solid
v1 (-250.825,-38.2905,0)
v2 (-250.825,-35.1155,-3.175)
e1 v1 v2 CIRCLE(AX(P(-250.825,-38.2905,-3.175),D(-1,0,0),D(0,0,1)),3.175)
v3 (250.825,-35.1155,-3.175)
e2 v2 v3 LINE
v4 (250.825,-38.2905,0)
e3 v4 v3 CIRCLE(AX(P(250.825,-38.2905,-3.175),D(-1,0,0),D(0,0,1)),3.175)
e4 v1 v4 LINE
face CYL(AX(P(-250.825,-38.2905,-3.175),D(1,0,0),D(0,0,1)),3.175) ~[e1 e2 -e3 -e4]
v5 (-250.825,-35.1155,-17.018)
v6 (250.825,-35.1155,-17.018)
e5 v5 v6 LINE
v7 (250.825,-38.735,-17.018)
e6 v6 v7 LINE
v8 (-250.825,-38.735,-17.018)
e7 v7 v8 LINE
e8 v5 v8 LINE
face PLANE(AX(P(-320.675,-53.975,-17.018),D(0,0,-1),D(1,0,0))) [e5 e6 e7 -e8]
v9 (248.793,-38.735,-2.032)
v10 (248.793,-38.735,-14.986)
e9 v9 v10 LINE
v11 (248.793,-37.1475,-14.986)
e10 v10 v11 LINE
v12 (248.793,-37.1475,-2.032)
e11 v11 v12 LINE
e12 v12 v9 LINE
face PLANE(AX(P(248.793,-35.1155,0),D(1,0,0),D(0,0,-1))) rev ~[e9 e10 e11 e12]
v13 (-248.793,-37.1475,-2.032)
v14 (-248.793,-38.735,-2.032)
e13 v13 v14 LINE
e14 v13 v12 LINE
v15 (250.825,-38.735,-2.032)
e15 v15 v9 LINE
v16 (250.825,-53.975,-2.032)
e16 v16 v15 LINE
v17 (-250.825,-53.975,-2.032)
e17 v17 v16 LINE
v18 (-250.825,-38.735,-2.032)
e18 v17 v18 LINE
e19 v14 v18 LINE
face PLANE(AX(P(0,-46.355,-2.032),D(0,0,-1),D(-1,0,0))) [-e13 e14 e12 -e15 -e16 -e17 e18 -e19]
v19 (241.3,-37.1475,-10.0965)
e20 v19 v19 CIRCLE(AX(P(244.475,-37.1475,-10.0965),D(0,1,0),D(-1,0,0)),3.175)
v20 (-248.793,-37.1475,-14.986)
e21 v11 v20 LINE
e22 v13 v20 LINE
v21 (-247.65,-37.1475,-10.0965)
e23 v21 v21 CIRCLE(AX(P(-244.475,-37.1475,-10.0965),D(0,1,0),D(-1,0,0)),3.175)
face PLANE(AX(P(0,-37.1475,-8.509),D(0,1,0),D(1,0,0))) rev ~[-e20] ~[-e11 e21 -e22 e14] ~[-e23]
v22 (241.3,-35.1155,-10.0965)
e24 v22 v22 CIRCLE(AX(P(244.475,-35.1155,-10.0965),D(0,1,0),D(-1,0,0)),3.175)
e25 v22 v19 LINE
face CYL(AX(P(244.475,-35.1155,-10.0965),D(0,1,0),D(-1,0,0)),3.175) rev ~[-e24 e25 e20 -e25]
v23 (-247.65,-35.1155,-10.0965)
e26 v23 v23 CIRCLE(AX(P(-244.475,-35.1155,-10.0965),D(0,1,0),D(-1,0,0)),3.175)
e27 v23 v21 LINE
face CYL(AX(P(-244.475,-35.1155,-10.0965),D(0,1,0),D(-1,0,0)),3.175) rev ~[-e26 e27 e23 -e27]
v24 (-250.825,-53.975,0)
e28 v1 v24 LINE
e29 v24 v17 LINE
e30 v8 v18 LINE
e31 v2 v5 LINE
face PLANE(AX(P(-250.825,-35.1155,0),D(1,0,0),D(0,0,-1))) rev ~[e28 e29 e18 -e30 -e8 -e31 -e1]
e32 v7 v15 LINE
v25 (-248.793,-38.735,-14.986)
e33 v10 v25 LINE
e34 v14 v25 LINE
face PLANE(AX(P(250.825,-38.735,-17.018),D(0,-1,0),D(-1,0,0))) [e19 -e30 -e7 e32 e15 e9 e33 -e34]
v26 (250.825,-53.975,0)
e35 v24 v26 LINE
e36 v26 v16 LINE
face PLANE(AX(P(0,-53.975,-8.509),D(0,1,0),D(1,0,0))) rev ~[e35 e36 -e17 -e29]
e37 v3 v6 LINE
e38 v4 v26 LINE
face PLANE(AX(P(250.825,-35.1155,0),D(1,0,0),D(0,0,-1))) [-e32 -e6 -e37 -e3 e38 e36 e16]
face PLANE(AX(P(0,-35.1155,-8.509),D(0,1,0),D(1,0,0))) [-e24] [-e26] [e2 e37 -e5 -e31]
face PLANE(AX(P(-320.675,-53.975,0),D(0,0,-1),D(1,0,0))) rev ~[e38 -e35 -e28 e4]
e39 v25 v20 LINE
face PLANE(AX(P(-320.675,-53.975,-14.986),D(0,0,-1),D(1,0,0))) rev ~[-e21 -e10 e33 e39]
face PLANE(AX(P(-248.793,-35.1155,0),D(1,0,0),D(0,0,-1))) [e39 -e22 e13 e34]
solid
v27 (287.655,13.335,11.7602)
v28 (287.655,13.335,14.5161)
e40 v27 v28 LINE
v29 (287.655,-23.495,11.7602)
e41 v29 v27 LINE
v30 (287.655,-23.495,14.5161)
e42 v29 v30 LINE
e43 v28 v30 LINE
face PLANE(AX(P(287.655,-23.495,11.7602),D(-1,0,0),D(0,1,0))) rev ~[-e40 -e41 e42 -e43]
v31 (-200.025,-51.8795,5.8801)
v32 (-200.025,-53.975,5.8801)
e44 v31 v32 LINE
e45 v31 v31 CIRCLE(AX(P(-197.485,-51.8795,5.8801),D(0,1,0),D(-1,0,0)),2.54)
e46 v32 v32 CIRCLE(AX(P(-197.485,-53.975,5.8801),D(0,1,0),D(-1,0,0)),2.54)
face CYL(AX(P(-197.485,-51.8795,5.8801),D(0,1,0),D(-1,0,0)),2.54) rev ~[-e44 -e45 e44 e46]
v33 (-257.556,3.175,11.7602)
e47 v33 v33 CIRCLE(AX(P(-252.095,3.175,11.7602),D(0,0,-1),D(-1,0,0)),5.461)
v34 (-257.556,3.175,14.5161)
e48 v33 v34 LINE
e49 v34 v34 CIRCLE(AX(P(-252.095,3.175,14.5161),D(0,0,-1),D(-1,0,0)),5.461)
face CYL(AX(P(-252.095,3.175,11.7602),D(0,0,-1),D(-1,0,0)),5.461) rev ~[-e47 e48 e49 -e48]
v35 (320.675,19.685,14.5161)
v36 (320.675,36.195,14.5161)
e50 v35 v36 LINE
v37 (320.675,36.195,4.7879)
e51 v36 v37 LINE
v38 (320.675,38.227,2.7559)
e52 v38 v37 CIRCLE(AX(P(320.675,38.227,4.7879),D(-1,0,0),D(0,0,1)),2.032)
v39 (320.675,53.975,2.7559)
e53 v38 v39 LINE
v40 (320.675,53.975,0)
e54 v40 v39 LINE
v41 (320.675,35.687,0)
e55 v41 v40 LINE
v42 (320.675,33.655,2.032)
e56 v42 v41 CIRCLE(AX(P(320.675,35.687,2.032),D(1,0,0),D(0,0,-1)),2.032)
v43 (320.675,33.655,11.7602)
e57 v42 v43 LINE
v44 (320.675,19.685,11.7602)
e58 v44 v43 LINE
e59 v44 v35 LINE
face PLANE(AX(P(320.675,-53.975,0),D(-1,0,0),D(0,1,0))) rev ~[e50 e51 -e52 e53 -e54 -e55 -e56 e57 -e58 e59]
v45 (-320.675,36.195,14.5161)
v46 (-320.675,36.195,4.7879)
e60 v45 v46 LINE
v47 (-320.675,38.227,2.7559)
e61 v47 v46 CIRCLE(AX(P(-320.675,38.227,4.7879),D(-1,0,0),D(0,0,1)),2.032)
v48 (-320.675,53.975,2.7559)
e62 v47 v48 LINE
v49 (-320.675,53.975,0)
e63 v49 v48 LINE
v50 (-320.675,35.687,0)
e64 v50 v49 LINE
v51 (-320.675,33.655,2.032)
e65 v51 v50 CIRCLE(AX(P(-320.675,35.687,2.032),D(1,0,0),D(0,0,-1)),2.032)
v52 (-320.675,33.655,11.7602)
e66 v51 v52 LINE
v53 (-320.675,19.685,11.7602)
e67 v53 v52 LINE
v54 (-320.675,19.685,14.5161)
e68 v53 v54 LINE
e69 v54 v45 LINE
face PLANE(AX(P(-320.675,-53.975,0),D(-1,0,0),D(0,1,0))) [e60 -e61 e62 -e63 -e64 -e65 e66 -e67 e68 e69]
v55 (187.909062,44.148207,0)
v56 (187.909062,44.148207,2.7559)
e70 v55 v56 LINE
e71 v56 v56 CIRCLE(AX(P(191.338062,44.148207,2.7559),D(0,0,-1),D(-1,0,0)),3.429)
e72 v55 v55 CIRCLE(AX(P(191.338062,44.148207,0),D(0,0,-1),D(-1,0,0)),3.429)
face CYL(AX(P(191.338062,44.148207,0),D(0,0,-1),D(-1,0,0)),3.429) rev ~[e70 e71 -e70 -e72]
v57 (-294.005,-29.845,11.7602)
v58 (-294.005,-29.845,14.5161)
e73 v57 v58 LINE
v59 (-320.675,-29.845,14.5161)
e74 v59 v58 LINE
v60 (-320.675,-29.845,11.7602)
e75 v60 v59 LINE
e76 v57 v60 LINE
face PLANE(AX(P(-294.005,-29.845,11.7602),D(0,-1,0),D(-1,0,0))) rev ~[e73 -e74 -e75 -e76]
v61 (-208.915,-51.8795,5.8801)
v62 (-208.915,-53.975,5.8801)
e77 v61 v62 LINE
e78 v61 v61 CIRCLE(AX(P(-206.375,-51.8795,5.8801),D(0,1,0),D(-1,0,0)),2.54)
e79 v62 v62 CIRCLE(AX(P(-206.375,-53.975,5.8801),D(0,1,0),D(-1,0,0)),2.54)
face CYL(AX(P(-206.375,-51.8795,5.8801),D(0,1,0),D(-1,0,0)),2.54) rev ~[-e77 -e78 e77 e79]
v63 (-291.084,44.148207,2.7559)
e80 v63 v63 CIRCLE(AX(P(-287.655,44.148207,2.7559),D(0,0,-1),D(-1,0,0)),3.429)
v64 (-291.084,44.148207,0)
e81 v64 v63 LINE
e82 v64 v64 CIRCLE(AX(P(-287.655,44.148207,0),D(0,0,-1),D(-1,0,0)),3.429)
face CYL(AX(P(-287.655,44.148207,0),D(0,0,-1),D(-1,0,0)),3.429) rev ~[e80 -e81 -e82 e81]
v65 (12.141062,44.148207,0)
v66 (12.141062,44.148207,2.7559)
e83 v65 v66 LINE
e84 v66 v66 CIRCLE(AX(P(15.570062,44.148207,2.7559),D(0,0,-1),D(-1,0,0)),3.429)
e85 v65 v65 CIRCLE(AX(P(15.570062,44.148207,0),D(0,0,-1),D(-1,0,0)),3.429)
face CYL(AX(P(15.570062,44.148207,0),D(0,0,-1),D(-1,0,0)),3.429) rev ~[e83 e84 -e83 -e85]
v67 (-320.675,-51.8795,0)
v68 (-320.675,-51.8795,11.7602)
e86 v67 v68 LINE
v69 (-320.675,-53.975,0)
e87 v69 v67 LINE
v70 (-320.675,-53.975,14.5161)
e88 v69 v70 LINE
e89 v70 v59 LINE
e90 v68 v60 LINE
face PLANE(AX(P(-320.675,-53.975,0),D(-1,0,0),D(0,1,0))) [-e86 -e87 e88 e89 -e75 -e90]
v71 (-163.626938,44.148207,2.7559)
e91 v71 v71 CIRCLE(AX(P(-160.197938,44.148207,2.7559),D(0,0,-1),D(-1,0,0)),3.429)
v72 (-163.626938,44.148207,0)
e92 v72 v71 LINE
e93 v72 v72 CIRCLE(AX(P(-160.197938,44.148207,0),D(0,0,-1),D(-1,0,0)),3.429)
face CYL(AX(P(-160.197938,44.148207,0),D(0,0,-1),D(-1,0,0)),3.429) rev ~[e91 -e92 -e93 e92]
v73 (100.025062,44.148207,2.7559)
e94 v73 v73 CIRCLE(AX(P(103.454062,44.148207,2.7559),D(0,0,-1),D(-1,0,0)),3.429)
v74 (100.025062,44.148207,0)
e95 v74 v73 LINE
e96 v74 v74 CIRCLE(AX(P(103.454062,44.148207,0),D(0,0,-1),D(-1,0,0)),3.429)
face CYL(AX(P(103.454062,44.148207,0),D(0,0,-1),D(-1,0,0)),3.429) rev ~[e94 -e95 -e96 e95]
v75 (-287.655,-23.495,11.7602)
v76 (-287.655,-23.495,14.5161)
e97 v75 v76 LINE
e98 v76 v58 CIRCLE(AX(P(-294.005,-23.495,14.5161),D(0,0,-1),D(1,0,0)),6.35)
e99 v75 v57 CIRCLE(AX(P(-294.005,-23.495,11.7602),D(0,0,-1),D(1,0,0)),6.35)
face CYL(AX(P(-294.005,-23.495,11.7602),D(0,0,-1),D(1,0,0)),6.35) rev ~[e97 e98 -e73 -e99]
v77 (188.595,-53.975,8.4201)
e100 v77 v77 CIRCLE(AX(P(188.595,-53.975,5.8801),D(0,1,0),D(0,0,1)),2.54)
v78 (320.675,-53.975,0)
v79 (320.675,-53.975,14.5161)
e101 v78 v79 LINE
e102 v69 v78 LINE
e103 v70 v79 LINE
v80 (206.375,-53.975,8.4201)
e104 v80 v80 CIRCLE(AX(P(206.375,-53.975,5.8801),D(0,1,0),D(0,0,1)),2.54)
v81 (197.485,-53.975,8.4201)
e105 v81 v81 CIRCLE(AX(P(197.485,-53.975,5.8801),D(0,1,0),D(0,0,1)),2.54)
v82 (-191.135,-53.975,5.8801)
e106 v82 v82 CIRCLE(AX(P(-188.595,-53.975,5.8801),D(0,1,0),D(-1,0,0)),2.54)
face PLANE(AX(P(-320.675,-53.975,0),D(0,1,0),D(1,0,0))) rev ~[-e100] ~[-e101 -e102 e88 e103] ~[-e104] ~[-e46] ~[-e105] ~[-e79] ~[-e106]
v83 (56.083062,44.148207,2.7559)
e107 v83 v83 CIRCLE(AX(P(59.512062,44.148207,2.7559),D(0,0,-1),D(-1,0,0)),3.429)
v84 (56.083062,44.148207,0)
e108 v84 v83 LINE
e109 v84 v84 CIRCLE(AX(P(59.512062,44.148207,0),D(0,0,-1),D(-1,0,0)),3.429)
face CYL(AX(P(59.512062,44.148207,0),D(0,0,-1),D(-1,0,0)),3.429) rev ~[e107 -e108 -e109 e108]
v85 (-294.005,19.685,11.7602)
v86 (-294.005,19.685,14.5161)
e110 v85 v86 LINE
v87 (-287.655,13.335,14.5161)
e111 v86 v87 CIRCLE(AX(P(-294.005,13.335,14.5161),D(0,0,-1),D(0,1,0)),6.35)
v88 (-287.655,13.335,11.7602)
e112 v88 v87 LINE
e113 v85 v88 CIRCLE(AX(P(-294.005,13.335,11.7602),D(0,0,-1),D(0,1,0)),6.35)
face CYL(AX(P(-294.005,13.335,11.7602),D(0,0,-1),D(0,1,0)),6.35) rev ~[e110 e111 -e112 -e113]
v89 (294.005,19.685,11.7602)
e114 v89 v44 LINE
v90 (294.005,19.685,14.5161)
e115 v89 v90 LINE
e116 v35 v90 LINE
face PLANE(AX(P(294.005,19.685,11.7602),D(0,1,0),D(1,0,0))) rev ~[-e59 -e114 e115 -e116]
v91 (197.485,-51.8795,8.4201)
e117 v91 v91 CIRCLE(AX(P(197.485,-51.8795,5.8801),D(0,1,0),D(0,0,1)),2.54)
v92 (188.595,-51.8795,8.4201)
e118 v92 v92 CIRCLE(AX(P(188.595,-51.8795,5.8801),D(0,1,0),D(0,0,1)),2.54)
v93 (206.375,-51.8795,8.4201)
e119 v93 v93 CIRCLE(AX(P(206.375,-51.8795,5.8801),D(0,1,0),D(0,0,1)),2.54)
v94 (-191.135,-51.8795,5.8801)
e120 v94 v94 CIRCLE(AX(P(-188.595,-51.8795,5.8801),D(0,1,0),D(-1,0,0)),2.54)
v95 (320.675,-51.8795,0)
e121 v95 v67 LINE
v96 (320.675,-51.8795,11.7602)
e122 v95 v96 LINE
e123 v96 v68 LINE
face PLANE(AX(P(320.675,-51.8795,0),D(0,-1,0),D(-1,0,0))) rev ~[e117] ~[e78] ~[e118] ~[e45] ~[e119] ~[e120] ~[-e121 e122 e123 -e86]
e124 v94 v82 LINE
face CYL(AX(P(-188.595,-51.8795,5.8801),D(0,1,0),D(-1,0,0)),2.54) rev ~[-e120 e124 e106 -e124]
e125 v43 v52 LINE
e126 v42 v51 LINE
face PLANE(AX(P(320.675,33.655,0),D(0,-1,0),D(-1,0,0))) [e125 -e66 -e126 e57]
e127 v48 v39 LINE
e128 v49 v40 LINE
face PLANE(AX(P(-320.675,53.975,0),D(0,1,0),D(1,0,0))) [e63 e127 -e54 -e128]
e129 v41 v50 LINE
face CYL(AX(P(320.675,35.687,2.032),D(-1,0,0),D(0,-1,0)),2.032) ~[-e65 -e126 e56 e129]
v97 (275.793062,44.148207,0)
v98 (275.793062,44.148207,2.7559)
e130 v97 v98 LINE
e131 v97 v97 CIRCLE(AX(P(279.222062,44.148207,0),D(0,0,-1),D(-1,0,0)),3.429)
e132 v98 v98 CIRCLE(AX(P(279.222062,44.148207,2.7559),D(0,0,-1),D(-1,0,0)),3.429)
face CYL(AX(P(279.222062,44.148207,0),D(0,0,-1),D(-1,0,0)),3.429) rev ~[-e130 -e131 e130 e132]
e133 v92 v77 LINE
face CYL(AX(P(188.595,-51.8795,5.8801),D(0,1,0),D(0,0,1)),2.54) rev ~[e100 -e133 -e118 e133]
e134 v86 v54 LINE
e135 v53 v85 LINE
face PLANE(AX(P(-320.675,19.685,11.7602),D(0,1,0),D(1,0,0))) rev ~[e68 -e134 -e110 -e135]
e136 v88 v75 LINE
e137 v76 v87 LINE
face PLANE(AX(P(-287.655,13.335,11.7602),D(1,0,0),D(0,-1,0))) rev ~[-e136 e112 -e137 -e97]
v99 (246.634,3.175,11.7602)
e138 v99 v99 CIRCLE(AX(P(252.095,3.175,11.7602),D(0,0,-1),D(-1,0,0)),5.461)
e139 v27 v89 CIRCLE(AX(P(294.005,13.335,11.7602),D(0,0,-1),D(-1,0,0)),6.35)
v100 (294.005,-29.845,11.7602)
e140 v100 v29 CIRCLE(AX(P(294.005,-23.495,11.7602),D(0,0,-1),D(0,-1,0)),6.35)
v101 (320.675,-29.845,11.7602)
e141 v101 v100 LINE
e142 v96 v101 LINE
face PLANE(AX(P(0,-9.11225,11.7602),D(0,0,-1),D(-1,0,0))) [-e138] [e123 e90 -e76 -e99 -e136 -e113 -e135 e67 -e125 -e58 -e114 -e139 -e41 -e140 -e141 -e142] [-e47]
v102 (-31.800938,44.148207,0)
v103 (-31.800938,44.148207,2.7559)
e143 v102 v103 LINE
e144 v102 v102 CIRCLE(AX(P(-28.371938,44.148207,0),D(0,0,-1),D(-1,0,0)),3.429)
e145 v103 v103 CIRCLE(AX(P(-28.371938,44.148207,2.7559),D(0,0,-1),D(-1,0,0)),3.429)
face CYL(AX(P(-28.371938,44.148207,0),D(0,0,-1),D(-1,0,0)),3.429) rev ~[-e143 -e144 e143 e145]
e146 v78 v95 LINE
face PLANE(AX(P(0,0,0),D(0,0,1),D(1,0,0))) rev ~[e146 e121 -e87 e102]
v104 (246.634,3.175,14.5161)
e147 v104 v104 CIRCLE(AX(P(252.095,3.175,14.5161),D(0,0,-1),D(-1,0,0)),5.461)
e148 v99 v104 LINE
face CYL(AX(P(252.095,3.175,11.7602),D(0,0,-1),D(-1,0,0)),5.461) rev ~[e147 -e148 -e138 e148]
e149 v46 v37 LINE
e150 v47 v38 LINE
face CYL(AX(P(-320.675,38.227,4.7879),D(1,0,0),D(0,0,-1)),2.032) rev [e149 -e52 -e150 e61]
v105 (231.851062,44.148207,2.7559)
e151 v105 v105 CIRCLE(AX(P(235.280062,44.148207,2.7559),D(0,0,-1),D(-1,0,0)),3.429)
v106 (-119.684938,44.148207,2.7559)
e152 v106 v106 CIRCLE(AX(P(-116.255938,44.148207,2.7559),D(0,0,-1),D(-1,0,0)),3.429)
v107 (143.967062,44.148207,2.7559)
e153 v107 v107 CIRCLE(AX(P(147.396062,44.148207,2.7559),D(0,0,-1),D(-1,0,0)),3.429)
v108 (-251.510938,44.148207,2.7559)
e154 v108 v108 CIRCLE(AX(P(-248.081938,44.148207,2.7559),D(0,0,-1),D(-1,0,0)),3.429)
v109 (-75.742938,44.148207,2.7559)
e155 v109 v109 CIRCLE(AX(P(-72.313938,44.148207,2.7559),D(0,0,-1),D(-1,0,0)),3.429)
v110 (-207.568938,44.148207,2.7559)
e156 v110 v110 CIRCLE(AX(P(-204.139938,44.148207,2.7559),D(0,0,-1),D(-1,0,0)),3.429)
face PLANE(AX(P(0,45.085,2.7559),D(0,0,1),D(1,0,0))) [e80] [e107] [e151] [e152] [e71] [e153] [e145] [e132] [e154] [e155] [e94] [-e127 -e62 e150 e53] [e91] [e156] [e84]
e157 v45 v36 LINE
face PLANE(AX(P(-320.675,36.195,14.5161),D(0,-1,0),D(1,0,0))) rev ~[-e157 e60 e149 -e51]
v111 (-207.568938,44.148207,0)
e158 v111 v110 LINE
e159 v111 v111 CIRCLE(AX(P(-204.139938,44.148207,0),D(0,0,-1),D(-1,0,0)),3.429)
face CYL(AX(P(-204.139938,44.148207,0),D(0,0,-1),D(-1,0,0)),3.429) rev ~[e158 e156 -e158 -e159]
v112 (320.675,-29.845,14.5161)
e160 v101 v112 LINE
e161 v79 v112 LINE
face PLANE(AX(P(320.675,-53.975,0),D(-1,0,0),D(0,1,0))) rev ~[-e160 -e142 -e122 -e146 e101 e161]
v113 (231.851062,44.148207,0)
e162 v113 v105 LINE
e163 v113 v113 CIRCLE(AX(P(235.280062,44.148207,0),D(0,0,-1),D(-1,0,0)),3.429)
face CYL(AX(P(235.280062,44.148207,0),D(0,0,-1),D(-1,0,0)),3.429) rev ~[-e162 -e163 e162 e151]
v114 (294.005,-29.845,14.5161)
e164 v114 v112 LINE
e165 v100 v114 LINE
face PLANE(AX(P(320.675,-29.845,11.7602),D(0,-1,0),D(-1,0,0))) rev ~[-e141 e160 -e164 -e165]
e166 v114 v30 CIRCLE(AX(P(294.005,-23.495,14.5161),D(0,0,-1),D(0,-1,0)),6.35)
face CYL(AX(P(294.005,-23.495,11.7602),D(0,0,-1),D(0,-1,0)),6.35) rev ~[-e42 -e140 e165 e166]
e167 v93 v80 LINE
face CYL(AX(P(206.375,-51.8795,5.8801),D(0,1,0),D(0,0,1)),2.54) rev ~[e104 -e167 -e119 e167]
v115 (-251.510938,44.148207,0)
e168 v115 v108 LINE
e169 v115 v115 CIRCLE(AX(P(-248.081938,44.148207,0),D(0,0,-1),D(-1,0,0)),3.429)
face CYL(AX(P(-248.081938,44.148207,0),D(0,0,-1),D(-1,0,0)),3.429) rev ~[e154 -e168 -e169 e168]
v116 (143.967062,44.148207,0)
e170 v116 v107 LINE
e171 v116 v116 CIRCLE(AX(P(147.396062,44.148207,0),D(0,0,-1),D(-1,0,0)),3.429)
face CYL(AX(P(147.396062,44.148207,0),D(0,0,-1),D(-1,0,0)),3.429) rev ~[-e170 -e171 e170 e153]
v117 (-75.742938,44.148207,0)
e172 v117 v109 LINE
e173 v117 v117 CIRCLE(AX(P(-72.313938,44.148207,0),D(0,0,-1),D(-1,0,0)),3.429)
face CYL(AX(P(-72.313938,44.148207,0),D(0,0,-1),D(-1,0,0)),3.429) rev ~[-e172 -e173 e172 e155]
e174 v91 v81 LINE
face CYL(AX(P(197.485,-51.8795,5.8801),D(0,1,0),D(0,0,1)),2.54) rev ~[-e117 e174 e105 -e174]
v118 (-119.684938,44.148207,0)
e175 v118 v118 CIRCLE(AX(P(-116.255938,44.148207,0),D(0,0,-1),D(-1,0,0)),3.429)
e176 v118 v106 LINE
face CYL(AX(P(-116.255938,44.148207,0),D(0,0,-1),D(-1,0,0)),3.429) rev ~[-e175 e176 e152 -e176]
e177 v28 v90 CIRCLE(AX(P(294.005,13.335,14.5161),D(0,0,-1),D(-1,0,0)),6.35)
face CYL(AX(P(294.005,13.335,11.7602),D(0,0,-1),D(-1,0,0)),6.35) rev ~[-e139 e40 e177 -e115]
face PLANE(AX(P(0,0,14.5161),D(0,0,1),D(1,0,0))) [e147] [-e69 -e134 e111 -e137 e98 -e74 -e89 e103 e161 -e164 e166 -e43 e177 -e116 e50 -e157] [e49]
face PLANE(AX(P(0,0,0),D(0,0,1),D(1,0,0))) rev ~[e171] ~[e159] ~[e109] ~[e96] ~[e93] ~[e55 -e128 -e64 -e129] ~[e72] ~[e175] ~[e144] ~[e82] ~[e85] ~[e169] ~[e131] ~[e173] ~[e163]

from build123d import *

# Parameters (mm, degrees)
SKETCH1_W                = 641.35
SKETCH1_H                = 107.95
BOSS_EXTRUDE1_DEPTH      = 14.5161
SKETCH2_W                = 641.35
SKETCH2_H                = 17.78
CUT_EXTRUDE1_DEPTH       = 11.7602
SKETCH3_W                = 641.35
SKETCH3_H                = 85.5345
CUT_EXTRUDE3_DEPTH       = 11.7602
FILLET1_R                = 2.032
CUT_EXTRUDE4_DEPTH       = 326.398307546
SKETCH5_R                = 3.429
CUT_EXTRUDE5_DEPTH       = 11.7602
SKETCH6_R                = 5.461
CUT_EXTRUDE6_DEPTH       = 11.7602
SKETCH7_R                = 2.54
CUT_EXTRUDE7_DEPTH       = 2.54
BOSS_EXTRUDE2_DEPTH      = 16.764
BOSS_EXTRUDE2_DEPTH_BACK = 2.0955
SKETCH8_W                = 641.35
SKETCH8_H                = 17.018
SKETCH9_W                = 69.85
SKETCH9_H                = 17.018
CUT_EXTRUDE8_DEPTH       = 334.255435273
SHELL1_T                 = -2.032
SKETCH10_W               = 501.65
SKETCH10_H               = 15.24
CUT_EXTRUDE9_DEPTH       = 14.986
FILLET2_R                = 3.175
SKETCH11_R               = 3.175
CUT_EXTRUDE10_DEPTH      = 16.764


with BuildPart() as part:
    # Sketch1 → Boss-Extrude1 (new body)
    with BuildSketch(Plane.XY):
        Rectangle(SKETCH1_W, SKETCH1_H)
    extrude(amount=BOSS_EXTRUDE1_DEPTH)

    # Sketch2 → Cut-Extrude1 (cut)
    with BuildSketch(Plane.XY.offset(14.5161)):
        with Locations((0, 45.085)):
            Rectangle(SKETCH2_W, SKETCH2_H)
    extrude(amount=-CUT_EXTRUDE1_DEPTH, mode=Mode.SUBTRACT)

    # Sketch3 → Cut-Extrude3 (cut)
    with BuildSketch(Plane(origin=(0, 0, 0), x_dir=(-1, 0, 0), z_dir=(0, 0, -1))):
        with Locations((0, -9.11225)):
            Rectangle(SKETCH3_W, SKETCH3_H)
    extrude(amount=-CUT_EXTRUDE3_DEPTH, mode=Mode.SUBTRACT)

    # Fillet1
    fillet1_edges = [part.edges().sort_by_distance(p)[0] for p in [
        (0, 36.195, 2.7559),
        (0, 33.655, 0),
    ]]
    fillet(fillet1_edges, radius=FILLET1_R)

    # Sketch4 → Cut-Extrude4 (cut, through all)
    with BuildSketch(Plane(origin=(0, 0, 11.7602), x_dir=(-1, 0, 0), z_dir=(0, 0, -1))):
        with BuildLine():
            Line((-294.005, 19.685), (-320.675, 19.685))
            Line((-320.675, 19.685), (-320.675, -29.845))
            Line((-320.675, -29.845), (-294.005, -29.845))
            ThreePointArc((-294.005, -29.845), (-289.514871939, -27.985128061), (-287.655, -23.495))
            Line((-287.655, -23.495), (-287.655, 13.335))
            ThreePointArc((-287.655, 13.335), (-289.514871939, 17.825128061), (-294.005, 19.685))
        make_face()
        with BuildLine():
            Line((294.005, -29.845), (320.675, -29.845))
            Line((320.675, -29.845), (320.675, 19.685))
            Line((320.675, 19.685), (294.005, 19.685))
            ThreePointArc((294.005, 19.685), (289.514871939, 17.825128061), (287.655, 13.335))
            Line((287.655, 13.335), (287.655, -23.495))
            ThreePointArc((287.655, -23.495), (289.514871939, -27.985128061), (294.005, -29.845))
        make_face()
    extrude(amount=-CUT_EXTRUDE4_DEPTH, mode=Mode.SUBTRACT)

    # Sketch5 → Cut-Extrude5 (cut)
    with BuildSketch(Plane(origin=(0, 0, 0), x_dir=(-1, 0, 0), z_dir=(0, 0, -1))):
        with Locations((-279.222061941, 44.148206771)):
            Circle(SKETCH5_R)
        with Locations((-235.280061941, 44.148206771)):
            Circle(SKETCH5_R)
        with Locations((-191.338061941, 44.148206771)):
            Circle(SKETCH5_R)
        with Locations((-147.396061941, 44.148206771)):
            Circle(SKETCH5_R)
        with Locations((-103.454061941, 44.148206771)):
            Circle(SKETCH5_R)
        with Locations((-59.512061941, 44.148206771)):
            Circle(SKETCH5_R)
        with Locations((-15.570061941, 44.148206771)):
            Circle(SKETCH5_R)
        with Locations((28.371938059, 44.148206771)):
            Circle(SKETCH5_R)
        with Locations((72.313938059, 44.148206771)):
            Circle(SKETCH5_R)
        with Locations((116.255938059, 44.148206771)):
            Circle(SKETCH5_R)
        with Locations((160.197938059, 44.148206771)):
            Circle(SKETCH5_R)
        with Locations((204.139938059, 44.148206771)):
            Circle(SKETCH5_R)
        with Locations((248.081938059, 44.148206771)):
            Circle(SKETCH5_R)
        with Locations((287.655, 44.148206771)):
            Circle(SKETCH5_R)
    extrude(amount=-CUT_EXTRUDE5_DEPTH, mode=Mode.SUBTRACT)

    # Sketch6 → Cut-Extrude6 (cut)
    with BuildSketch(Plane(origin=(0, 0, 11.7602), x_dir=(-1, 0, 0), z_dir=(0, 0, -1))):
        with Locations((-252.095, 3.175)):
            Circle(SKETCH6_R)
        with Locations((252.095, 3.175)):
            Circle(SKETCH6_R)
    extrude(amount=-CUT_EXTRUDE6_DEPTH, mode=Mode.SUBTRACT)

    # Sketch7 → Cut-Extrude7 (cut)
    with BuildSketch(Plane(origin=(0, -51.8795, 0), x_dir=(1, 0, 0), z_dir=(0, 1, 0))):
        with Locations(Location((-206.375, -5.8801, 0), (0, 0, 180))):
            Circle(SKETCH7_R)
        with Locations(Location((-197.485, -5.8801, 0), (0, 0, 180))):
            Circle(SKETCH7_R)
        with Locations(Location((-188.595, -5.8801, 0), (0, 0, 180))):
            Circle(SKETCH7_R)
        with Locations(Location((197.485, -5.8801, 0), (0, 0, 270))):
            Circle(SKETCH7_R)
        with Locations(Location((188.595, -5.8801, 0), (0, 0, 270))):
            Circle(SKETCH7_R)
        with Locations(Location((206.375, -5.8801, 0), (0, 0, 270))):
            Circle(SKETCH7_R)
    extrude(amount=-CUT_EXTRUDE7_DEPTH, mode=Mode.SUBTRACT)


with BuildPart() as body_2:
    # Sketch8 → Boss-Extrude2 (new, two sides: drawn at the far end of the back side and taken through both)
    with BuildSketch(Plane(origin=(0, -51.8795, 0), x_dir=(1, 0, 0), z_dir=(0, 1, 0)).offset(-BOSS_EXTRUDE2_DEPTH_BACK)):
        with Locations((0, 8.509)):
            Rectangle(SKETCH8_W, SKETCH8_H)
    extrude(amount=BOSS_EXTRUDE2_DEPTH + BOSS_EXTRUDE2_DEPTH_BACK)

    # Sketch9 → Cut-Extrude8 (cut, through all)
    with BuildSketch(Plane(origin=(0, -35.1155, 0), x_dir=(1, 0, 0), z_dir=(0, 1, 0))):
        with Locations((285.75, 8.509)):
            Rectangle(SKETCH9_W, SKETCH9_H)
        with Locations((-285.75, 8.509)):
            Rectangle(SKETCH9_W, SKETCH9_H)
    extrude(amount=-CUT_EXTRUDE8_DEPTH, mode=Mode.SUBTRACT)

    # Shell1
    shell1_openings = [body_2.faces().sort_by_distance(p)[0] for p in [
        (0, -53.975, -8.509),
    ]]
    offset(amount=SHELL1_T, openings=shell1_openings, kind=Kind.INTERSECTION)

    # Sketch10 → Cut-Extrude9 (cut)
    with BuildSketch(Plane(origin=(0, 0, -17.018), x_dir=(-1, 0, 0), z_dir=(0, 0, -1))):
        with Locations((0, -46.355)):
            Rectangle(SKETCH10_W, SKETCH10_H)
    extrude(amount=-CUT_EXTRUDE9_DEPTH, mode=Mode.SUBTRACT)

    # Fillet2
    fillet2_edges = [body_2.edges().sort_by_distance(p)[0] for p in [
        (0, -35.1155, 0),
    ]]
    fillet(fillet2_edges, radius=FILLET2_R)

    # Sketch11 → Cut-Extrude10 (cut)
    with BuildSketch(Plane(origin=(0, -35.1155, 0), x_dir=(1, 0, 0), z_dir=(0, 1, 0))):
        with Locations(Location((-244.475, 10.0965, 0), (0, 0, 180))):
            Circle(SKETCH11_R)
        with Locations(Location((244.475, 10.0965, 0), (0, 0, 180))):
            Circle(SKETCH11_R)
    extrude(amount=-CUT_EXTRUDE10_DEPTH, mode=Mode.SUBTRACT)


solid = Compound([part.part, body_2.part])
